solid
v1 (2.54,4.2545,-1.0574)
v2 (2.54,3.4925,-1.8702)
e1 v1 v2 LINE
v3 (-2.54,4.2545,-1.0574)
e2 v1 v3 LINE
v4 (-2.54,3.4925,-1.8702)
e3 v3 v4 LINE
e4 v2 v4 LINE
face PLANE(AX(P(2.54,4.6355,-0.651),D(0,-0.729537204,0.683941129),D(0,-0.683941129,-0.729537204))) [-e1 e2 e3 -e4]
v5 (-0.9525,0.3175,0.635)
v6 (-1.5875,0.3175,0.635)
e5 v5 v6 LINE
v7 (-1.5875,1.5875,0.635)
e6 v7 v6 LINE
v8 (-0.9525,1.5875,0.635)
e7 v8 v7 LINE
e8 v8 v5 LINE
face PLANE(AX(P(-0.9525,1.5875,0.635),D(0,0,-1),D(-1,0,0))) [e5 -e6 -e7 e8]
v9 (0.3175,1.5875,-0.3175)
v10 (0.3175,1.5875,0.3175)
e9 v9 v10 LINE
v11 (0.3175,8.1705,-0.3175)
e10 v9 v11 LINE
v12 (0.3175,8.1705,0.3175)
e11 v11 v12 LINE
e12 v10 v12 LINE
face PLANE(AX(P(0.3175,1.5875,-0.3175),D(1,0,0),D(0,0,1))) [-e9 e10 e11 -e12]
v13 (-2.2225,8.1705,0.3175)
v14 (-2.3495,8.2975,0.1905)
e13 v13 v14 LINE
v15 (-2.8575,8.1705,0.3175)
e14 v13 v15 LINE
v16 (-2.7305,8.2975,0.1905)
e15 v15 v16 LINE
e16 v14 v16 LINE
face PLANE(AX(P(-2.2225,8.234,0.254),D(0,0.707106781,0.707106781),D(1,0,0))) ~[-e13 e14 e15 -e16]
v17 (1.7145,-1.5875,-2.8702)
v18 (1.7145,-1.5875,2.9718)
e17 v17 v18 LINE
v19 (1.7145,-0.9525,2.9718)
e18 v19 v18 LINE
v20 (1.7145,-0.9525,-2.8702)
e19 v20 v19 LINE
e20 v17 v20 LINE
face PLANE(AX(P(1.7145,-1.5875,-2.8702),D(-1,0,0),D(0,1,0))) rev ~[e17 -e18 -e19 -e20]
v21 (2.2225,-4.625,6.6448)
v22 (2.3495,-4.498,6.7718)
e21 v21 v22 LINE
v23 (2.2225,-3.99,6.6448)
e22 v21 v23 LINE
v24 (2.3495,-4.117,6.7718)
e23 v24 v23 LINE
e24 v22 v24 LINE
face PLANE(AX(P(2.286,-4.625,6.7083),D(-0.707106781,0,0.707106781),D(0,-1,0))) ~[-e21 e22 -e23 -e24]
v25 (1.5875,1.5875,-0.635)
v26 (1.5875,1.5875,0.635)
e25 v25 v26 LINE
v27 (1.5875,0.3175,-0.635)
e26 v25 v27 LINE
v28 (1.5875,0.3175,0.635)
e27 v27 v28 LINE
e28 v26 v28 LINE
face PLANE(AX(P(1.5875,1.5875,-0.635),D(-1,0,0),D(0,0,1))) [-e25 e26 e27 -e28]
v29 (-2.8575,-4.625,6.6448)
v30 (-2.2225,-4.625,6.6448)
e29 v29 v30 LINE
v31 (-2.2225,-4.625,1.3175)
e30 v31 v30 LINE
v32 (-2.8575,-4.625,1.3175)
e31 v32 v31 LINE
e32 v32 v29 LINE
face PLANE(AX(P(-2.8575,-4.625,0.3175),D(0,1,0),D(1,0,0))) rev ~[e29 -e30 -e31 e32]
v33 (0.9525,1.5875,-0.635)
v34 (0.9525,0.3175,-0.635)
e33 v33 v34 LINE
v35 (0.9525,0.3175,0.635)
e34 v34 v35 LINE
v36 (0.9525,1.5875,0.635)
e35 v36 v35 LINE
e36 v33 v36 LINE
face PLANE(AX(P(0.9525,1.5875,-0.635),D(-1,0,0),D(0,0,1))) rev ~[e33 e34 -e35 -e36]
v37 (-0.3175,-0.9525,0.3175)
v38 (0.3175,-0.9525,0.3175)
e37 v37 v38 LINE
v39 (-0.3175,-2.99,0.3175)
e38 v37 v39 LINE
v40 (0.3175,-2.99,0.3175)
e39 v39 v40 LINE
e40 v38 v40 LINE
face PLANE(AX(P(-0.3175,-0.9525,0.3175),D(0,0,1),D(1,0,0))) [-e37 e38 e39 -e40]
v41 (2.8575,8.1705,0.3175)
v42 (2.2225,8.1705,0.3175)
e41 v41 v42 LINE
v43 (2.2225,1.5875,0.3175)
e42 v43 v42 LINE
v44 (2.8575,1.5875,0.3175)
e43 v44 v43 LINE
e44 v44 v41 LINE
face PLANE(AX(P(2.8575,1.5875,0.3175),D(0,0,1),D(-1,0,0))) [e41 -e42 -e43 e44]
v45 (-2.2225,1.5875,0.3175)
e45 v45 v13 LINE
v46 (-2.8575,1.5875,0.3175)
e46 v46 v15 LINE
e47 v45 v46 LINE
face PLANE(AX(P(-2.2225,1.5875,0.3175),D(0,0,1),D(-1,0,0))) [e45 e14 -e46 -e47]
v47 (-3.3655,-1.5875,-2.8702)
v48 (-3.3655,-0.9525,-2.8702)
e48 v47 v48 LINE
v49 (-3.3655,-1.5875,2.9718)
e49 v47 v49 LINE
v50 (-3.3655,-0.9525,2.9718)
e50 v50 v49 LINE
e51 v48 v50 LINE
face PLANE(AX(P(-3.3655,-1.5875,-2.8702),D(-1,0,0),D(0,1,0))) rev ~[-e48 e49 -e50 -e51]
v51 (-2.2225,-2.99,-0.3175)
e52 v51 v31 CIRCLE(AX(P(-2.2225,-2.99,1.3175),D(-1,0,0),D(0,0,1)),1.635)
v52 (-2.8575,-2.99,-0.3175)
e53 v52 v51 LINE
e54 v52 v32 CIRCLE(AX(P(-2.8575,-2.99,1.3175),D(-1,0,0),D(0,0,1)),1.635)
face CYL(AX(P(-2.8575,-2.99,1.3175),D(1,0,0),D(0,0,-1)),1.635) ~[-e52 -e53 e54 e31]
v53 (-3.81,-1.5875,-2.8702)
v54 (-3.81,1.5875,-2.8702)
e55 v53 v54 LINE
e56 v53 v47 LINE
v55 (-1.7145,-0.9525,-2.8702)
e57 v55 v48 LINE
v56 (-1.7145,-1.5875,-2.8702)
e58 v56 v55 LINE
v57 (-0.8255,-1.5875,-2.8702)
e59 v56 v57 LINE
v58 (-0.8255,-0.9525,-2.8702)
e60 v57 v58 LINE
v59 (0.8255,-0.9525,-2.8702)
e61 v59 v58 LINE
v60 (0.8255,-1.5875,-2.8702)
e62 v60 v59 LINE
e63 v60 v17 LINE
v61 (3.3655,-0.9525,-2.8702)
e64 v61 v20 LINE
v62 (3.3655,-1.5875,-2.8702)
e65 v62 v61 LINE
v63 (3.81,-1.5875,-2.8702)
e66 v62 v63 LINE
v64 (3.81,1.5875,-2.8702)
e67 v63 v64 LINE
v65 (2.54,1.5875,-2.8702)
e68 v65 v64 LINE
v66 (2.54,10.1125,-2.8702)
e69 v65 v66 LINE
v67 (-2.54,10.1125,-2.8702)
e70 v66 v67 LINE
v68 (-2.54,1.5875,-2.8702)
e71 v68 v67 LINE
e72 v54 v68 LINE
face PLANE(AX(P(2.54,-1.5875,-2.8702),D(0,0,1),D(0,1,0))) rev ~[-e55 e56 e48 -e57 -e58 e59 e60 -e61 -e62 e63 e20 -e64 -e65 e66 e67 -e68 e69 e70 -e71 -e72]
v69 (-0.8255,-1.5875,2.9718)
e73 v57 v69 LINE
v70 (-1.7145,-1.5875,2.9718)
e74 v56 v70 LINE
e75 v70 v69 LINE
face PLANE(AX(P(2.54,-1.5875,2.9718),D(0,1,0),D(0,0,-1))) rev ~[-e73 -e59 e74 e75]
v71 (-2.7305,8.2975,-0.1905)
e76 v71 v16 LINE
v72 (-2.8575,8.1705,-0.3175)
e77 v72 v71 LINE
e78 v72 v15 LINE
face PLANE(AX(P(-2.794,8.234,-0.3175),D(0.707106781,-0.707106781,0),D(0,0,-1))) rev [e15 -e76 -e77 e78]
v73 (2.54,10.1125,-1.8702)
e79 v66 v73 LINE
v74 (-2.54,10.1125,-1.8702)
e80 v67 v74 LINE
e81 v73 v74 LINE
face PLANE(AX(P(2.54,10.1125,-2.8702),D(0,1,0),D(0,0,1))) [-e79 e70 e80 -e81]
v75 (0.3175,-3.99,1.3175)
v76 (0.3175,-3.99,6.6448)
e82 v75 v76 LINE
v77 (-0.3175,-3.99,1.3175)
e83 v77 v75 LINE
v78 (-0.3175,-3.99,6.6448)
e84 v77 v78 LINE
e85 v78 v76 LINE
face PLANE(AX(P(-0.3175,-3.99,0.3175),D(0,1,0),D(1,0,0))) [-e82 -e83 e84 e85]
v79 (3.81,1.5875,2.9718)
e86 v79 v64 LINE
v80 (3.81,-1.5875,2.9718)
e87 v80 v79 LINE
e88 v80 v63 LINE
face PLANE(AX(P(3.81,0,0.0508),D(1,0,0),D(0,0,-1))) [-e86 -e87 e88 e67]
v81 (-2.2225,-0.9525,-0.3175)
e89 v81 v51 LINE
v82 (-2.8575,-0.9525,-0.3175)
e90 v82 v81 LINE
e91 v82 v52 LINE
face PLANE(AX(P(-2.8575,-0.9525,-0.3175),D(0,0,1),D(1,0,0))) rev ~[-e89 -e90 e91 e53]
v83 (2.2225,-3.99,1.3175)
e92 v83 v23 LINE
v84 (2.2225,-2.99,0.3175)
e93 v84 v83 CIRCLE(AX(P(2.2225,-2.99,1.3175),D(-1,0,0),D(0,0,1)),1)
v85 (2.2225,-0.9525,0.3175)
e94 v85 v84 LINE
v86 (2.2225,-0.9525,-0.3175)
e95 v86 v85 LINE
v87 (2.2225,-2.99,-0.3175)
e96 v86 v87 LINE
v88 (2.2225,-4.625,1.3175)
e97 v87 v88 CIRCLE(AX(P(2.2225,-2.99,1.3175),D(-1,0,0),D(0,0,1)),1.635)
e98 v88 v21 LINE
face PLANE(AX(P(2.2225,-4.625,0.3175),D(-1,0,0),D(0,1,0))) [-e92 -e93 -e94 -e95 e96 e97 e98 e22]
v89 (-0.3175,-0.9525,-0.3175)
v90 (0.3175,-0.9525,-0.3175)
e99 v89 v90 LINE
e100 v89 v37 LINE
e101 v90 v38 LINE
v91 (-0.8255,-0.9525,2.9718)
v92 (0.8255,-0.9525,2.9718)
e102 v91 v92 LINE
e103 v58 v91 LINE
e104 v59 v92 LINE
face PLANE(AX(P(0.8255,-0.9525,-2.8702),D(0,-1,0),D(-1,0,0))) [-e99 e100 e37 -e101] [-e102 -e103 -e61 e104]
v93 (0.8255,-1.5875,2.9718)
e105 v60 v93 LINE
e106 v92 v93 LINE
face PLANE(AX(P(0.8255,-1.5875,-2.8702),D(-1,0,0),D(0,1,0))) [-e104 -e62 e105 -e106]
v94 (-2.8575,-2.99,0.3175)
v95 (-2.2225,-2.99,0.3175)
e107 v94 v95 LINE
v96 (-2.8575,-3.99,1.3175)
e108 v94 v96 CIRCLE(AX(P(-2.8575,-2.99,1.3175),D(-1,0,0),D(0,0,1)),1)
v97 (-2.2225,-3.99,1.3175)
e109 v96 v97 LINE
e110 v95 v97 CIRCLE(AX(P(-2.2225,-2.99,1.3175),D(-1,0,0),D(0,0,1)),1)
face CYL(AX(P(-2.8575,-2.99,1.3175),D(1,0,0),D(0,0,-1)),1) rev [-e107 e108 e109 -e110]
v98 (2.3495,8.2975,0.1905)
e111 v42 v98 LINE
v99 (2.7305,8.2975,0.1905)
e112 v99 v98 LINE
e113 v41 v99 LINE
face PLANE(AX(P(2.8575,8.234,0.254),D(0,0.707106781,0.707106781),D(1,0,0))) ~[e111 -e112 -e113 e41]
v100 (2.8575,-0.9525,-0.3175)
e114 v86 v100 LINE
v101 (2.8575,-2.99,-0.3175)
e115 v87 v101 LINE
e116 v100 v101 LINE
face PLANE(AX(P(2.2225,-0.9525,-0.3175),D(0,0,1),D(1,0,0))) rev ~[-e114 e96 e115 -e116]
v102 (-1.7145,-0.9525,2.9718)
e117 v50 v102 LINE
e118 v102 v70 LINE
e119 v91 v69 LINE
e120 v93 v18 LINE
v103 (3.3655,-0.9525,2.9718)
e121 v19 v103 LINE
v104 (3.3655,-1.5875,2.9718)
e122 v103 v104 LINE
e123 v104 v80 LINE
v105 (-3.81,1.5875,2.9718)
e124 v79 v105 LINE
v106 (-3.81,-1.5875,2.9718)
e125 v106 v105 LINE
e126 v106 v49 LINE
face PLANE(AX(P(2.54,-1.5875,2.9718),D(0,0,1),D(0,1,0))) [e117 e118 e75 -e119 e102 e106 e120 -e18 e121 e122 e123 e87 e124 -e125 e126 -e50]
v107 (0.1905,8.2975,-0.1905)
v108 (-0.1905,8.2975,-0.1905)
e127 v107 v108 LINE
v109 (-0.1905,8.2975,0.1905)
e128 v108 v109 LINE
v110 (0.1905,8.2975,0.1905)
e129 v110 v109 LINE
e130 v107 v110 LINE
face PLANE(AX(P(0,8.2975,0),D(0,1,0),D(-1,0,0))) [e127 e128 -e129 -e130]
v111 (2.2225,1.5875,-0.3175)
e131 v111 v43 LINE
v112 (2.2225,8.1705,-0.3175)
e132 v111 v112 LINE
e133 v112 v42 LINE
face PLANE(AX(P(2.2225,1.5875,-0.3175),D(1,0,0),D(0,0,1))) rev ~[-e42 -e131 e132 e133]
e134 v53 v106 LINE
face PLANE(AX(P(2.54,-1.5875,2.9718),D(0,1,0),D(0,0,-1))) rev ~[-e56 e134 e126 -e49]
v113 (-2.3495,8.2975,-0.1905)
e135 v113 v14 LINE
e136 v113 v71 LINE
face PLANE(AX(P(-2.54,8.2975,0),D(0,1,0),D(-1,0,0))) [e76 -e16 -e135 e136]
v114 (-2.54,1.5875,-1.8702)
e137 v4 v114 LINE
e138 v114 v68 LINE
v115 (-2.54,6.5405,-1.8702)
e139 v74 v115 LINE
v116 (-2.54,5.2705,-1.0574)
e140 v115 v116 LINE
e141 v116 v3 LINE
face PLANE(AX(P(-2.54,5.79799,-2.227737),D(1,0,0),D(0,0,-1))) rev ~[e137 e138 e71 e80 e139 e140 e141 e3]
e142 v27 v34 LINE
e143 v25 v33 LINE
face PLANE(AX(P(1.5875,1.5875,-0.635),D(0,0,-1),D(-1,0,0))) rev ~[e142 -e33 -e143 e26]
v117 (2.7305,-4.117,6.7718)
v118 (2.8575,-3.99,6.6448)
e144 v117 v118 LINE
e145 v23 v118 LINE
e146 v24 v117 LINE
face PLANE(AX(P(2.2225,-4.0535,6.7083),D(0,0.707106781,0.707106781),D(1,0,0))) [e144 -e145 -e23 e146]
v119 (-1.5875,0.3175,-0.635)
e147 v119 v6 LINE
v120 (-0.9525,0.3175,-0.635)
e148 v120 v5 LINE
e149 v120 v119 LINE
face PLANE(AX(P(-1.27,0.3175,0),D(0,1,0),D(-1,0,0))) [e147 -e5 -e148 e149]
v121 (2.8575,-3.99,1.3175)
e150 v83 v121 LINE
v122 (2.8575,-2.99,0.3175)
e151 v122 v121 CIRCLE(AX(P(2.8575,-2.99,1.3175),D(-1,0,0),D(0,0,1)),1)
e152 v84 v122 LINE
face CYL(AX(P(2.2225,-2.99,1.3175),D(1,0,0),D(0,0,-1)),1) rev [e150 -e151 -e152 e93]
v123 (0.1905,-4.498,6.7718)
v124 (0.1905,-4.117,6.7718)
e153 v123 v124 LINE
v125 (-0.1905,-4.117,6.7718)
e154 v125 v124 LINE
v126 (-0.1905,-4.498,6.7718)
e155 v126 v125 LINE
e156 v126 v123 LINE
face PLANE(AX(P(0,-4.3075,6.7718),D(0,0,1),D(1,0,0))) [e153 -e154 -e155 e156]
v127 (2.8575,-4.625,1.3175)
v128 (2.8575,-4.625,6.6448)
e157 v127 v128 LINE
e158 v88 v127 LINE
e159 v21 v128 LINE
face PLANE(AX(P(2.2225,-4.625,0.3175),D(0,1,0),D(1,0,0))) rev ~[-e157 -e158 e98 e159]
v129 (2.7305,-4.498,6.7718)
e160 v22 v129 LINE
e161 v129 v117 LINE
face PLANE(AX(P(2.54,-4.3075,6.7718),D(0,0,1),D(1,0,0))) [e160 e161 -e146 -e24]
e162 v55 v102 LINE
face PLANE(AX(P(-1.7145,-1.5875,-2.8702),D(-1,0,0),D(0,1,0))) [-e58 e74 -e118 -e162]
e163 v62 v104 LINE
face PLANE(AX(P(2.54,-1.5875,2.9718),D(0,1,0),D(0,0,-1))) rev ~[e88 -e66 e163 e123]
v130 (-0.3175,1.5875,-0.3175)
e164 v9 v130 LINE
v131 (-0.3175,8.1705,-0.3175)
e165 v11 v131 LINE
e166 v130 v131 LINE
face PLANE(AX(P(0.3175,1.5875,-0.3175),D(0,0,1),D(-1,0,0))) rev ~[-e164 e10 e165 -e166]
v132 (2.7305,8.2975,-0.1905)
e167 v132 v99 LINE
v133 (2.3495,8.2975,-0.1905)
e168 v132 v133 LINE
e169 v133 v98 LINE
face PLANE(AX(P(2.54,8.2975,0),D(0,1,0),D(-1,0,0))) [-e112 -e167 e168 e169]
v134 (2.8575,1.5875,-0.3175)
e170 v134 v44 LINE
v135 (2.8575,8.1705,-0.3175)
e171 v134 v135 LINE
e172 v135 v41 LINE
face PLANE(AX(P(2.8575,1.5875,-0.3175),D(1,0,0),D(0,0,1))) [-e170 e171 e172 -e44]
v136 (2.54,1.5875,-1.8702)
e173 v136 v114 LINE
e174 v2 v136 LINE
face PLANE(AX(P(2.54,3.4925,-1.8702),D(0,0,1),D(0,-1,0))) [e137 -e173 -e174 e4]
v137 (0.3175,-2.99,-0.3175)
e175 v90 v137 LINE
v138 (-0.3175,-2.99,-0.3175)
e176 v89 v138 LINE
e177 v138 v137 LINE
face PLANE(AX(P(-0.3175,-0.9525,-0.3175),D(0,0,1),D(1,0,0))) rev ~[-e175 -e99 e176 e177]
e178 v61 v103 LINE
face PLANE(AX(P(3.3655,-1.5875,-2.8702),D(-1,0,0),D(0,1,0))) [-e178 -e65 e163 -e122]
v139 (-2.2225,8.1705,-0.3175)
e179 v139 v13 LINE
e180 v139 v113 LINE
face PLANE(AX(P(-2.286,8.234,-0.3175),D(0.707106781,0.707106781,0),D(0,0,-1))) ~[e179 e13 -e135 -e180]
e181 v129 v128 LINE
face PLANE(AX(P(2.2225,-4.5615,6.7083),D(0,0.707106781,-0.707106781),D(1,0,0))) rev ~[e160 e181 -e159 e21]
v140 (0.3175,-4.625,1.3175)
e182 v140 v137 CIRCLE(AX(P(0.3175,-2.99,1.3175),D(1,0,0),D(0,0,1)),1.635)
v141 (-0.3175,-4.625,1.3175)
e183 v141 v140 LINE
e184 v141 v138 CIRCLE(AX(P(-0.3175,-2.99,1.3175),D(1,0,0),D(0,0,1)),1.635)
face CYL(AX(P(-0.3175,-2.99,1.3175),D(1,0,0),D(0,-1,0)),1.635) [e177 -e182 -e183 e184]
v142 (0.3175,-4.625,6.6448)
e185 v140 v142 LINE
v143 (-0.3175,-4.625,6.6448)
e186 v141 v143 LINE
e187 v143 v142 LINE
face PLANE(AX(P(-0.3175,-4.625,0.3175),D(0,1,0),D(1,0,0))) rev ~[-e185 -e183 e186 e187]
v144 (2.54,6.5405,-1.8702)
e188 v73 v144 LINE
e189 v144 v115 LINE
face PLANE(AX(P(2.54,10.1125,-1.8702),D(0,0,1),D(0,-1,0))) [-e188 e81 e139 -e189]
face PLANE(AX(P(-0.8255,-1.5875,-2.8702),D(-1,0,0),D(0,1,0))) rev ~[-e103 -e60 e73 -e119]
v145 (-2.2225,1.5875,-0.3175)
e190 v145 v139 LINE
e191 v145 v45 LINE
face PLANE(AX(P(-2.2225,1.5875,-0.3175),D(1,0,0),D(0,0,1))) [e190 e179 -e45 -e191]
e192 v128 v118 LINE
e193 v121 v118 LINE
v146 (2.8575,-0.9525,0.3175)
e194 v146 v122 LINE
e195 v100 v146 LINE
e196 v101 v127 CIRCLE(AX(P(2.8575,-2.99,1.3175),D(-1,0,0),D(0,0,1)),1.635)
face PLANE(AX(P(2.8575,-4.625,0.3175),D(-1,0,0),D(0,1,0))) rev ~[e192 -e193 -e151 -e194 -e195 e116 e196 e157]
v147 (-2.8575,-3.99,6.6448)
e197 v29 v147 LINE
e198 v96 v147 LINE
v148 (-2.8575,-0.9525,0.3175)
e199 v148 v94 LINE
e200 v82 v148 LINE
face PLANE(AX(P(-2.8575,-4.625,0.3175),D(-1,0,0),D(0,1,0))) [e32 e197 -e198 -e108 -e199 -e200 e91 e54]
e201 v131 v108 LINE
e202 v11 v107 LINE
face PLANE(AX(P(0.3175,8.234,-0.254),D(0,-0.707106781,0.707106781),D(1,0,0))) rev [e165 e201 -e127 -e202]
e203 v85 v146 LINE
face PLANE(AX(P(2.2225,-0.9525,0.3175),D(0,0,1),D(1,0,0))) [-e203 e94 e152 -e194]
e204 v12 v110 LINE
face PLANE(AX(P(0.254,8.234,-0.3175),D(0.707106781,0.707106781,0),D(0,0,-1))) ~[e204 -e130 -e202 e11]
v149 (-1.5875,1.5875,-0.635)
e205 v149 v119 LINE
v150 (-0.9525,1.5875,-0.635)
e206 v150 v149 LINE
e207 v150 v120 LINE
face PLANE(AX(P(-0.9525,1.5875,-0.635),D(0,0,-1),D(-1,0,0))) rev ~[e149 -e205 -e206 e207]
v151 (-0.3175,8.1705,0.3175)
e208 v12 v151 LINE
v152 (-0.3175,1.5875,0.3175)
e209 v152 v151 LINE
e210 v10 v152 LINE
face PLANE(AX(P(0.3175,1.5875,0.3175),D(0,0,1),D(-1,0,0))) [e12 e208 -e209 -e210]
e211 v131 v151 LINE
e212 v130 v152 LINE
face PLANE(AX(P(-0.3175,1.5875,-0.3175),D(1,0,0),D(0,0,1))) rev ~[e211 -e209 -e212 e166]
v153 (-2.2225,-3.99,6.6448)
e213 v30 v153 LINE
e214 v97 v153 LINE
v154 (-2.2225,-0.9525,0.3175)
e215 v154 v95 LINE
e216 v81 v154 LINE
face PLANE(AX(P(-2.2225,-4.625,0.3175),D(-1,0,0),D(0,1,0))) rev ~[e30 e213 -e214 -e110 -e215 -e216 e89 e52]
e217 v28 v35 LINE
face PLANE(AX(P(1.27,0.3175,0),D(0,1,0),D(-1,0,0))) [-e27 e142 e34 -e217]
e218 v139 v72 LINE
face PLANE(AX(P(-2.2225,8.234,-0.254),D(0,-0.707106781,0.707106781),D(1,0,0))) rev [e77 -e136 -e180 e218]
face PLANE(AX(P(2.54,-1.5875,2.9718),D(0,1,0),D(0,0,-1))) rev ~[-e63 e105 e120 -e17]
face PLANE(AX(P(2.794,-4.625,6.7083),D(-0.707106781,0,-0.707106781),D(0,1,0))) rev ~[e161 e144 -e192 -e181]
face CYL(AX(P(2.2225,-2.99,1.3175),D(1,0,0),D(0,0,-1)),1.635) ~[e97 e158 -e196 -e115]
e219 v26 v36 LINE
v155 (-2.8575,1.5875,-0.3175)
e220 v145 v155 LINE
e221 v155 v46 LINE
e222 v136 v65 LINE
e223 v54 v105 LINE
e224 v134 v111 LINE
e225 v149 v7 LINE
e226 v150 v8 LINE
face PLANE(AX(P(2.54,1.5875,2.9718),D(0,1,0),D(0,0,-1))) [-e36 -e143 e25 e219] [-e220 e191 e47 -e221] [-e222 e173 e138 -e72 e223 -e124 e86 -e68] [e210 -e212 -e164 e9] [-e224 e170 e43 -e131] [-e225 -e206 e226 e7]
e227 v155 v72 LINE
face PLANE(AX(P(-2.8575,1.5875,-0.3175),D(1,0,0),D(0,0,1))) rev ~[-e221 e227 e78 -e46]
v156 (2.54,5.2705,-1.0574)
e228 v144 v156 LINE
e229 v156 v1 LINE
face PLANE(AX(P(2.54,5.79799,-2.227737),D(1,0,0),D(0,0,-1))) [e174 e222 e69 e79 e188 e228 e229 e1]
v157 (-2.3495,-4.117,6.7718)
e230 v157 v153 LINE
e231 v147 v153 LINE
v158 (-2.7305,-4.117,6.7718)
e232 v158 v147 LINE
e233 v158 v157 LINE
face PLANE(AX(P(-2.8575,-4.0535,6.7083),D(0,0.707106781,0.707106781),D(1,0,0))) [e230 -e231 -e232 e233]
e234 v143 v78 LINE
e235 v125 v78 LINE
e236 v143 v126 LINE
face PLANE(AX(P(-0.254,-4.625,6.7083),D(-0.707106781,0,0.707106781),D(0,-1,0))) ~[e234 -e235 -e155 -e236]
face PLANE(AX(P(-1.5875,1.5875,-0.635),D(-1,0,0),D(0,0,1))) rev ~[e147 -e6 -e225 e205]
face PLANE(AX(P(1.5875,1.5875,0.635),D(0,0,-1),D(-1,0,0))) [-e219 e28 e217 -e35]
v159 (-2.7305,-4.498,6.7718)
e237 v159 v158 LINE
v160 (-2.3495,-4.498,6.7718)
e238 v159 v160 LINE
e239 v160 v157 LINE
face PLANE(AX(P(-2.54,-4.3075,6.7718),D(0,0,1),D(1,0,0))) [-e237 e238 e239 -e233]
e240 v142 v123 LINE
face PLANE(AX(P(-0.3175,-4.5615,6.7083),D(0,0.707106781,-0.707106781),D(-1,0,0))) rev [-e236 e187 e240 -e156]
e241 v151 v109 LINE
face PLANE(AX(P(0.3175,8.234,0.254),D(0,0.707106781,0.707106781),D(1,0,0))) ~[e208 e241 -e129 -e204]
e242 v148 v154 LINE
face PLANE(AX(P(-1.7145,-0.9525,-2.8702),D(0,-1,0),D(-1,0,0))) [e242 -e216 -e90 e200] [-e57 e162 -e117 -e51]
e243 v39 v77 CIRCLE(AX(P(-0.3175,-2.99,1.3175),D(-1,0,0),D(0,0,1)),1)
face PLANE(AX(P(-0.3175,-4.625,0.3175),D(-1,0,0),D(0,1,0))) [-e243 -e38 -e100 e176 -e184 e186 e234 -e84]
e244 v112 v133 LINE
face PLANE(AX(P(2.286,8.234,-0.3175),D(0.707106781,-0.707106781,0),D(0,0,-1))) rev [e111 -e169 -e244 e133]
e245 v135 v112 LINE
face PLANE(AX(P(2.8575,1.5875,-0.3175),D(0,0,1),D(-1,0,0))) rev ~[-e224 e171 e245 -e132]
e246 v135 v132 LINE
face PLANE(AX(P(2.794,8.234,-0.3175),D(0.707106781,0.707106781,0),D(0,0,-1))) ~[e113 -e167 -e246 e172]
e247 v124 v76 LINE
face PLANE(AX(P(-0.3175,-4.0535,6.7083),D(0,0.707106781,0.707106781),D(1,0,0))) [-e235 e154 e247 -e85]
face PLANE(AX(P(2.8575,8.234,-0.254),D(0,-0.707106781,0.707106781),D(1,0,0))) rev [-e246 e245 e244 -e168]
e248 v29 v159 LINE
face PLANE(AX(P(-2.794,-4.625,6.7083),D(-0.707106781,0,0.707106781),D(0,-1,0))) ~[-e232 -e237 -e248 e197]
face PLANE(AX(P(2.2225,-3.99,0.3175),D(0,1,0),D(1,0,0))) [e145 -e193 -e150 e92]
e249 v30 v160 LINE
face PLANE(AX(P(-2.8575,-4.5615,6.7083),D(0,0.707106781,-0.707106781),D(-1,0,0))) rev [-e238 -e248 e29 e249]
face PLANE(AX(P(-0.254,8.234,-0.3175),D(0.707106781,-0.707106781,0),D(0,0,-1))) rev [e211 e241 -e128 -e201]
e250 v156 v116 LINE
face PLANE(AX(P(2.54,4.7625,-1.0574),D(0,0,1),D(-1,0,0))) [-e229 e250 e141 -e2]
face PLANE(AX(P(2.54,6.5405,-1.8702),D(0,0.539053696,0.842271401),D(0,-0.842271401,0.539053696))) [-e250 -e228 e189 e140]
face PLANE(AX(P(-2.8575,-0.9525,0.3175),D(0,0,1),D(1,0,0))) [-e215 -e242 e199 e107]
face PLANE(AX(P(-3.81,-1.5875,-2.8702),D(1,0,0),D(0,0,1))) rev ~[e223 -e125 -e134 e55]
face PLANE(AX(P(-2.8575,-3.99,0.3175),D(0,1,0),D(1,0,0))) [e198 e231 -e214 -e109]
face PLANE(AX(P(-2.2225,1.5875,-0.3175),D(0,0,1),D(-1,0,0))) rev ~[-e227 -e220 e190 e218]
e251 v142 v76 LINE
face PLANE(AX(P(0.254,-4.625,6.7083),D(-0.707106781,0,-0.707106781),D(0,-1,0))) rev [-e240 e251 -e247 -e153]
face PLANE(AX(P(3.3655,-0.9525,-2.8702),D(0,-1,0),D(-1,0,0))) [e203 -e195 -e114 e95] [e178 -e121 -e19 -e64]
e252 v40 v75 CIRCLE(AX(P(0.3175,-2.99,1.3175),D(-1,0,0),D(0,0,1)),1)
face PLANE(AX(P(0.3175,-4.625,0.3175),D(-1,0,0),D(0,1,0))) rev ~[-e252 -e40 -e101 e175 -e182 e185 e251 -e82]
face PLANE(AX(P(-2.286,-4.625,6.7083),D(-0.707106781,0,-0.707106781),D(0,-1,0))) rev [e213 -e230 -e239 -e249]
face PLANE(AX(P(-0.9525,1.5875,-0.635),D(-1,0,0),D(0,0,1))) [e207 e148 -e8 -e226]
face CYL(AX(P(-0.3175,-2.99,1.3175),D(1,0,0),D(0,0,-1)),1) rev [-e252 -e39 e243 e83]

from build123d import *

# Parameters (mm, degrees)
SKETCH1_W            = 6.35
SKETCH1_H            = 5.842
BOSS_EXTRUDE1_DEPTH  = 3.175
BOSS_EXTRUDE2_DEPTH  = 5.08
SKETCH3_W            = 5.842
SKETCH3_H            = 3.175
BOSS_EXTRUDE3_DEPTH  = 1.27
SKETCH4_W            = 1.651
SKETCH4_H            = 0.635
CUT_EXTRUDE1_DEPTH   = 6.842
SKETCH5_W            = 0.635
SKETCH5_H            = 0.635
BOSS_EXTRUDE4_DEPTH  = 3.6725
SKETCH6_W            = 0.635
SKETCH6_H            = 0.635
BOSS_EXTRUDE5_DEPTH  = 6.4543
SKETCH7_W            = 1.651
SKETCH7_H            = 0.635
CUT_EXTRUDE2_DEPTH   = 10.642
SKETCH8_W            = 0.635
SKETCH8_H            = 0.635
BOSS_EXTRUDE6_DEPTH  = 3.6725
SKETCH9_W            = 0.635
SKETCH9_H            = 0.635
BOSS_EXTRUDE7_DEPTH  = 6.4543
SKETCH10_W           = 1.651
SKETCH10_H           = 0.635
CUT_EXTRUDE3_DEPTH   = 10.642
SKETCH11_W           = 0.635
SKETCH11_H           = 0.635
BOSS_EXTRUDE8_DEPTH  = 3.6725
SKETCH12_W           = 0.635
SKETCH12_H           = 0.635
BOSS_EXTRUDE9_DEPTH  = 6.4543
SKETCH13_W           = 0.635
SKETCH13_H           = 0.635
BOSS_EXTRUDE10_DEPTH = 6.71
SKETCH14_W           = 0.635
SKETCH14_H           = 0.635
BOSS_EXTRUDE11_DEPTH = 6.71
SKETCH15_W           = 0.635
SKETCH15_H           = 0.635
BOSS_EXTRUDE12_DEPTH = 6.71
SKETCH16_W           = 0.635
SKETCH16_H           = 1.27
CUT_EXTRUDE4_DEPTH   = 1.27
SKETCH17_W           = 0.635
SKETCH17_H           = 1.27
CUT_EXTRUDE5_DEPTH   = 1.27
CHAMFER1_SIZE        = 0.127
CHAMFER2_SIZE        = 0.753913762
CHAMFER2_SIZE2       = 0.55706549
FILLET1_R            = 1
FILLET2_R            = 1.635


with BuildPart() as part:
    # Sketch1 → Boss-Extrude1 (new body)
    with BuildSketch(Plane.XZ.offset(1.5875)):
        with Locations((-0.635, 0.0508)):
            Rectangle(SKETCH1_W, SKETCH1_H)
    extrude(amount=-BOSS_EXTRUDE1_DEPTH)

    # Sketch2 → Boss-Extrude2 (add)
    with BuildSketch(Plane(origin=(2.54, 0, 0), x_dir=(0, 0, -1), z_dir=(1, 0, 0))):
        Polygon((0.651, 4.6355), (1.8702, 3.4925), (1.8702, 1.5875), (2.8702, 1.5875), (2.8702, 10.1125), (1.8702, 10.1125), (1.8702, 6.5405), align=None)
    extrude(amount=-BOSS_EXTRUDE2_DEPTH)

    # Sketch3 → Boss-Extrude3 (add)
    with BuildSketch(Plane(origin=(2.54, 0, 0), x_dir=(0, 0, -1), z_dir=(1, 0, 0))):
        with Locations((-0.0508, 0)):
            Rectangle(SKETCH3_W, SKETCH3_H)
    extrude(amount=BOSS_EXTRUDE3_DEPTH)

    # Sketch4 → Cut-Extrude1 (cut, through all)
    with BuildSketch(Plane(origin=(0, 0, -2.8702), x_dir=(-1, 0, 0), z_dir=(0, 0, -1))):
        with Locations((0, -1.27)):
            Rectangle(SKETCH4_W, SKETCH4_H)
    extrude(amount=-CUT_EXTRUDE1_DEPTH, mode=Mode.SUBTRACT)

    # Sketch5 → Boss-Extrude4 (add)
    with BuildSketch(Plane.XZ.offset(0.9525)):
        Rectangle(SKETCH5_W, SKETCH5_H)
    extrude(amount=BOSS_EXTRUDE4_DEPTH)

    # Sketch6 → Boss-Extrude5 (add)
    with BuildSketch(Plane.XY.offset(0.3175)):
        with Locations((0, -4.3075)):
            Rectangle(SKETCH6_W, SKETCH6_H)
    extrude(amount=BOSS_EXTRUDE5_DEPTH)

    # Sketch7 → Cut-Extrude2 (cut, through all)
    with BuildSketch(Plane(origin=(0, 0, -2.8702), x_dir=(-1, 0, 0), z_dir=(0, 0, -1))):
        with Locations((2.54, -1.27)):
            Rectangle(SKETCH7_W, SKETCH7_H)
    extrude(amount=-CUT_EXTRUDE2_DEPTH, mode=Mode.SUBTRACT)

    # Sketch8 → Boss-Extrude6 (add)
    with BuildSketch(Plane.XZ.offset(0.9525)):
        with Locations((-2.54, 0)):
            Rectangle(SKETCH8_W, SKETCH8_H)
    extrude(amount=BOSS_EXTRUDE6_DEPTH)

    # Sketch9 → Boss-Extrude7 (add)
    with BuildSketch(Plane.XY.offset(0.3175)):
        with Locations((-2.54, -4.3075)):
            Rectangle(SKETCH9_W, SKETCH9_H)
    extrude(amount=BOSS_EXTRUDE7_DEPTH)

    # Sketch10 → Cut-Extrude3 (cut, through all)
    with BuildSketch(Plane(origin=(0, 0, -2.8702), x_dir=(-1, 0, 0), z_dir=(0, 0, -1))):
        with Locations((-2.54, -1.27)):
            Rectangle(SKETCH10_W, SKETCH10_H)
    extrude(amount=-CUT_EXTRUDE3_DEPTH, mode=Mode.SUBTRACT)

    # Sketch11 → Boss-Extrude8 (add)
    with BuildSketch(Plane.XZ.offset(0.9525)):
        with Locations((2.54, 0)):
            Rectangle(SKETCH11_W, SKETCH11_H)
    extrude(amount=BOSS_EXTRUDE8_DEPTH)

    # Sketch12 → Boss-Extrude9 (add)
    with BuildSketch(Plane.XY.offset(0.3175)):
        with Locations((2.54, -4.3075)):
            Rectangle(SKETCH12_W, SKETCH12_H)
    extrude(amount=BOSS_EXTRUDE9_DEPTH)

    # Sketch13 → Boss-Extrude10 (add)
    with BuildSketch(Plane(origin=(0, 1.5875, 0), x_dir=(-1, 0, 0), z_dir=(0, 1, 0))):
        with Locations((-2.54, 0)):
            Rectangle(SKETCH13_W, SKETCH13_H)
    extrude(amount=BOSS_EXTRUDE10_DEPTH)

    # Sketch14 → Boss-Extrude11 (add)
    with BuildSketch(Plane(origin=(0, 1.5875, 0), x_dir=(-1, 0, 0), z_dir=(0, 1, 0))):
        Rectangle(SKETCH14_W, SKETCH14_H)
    extrude(amount=BOSS_EXTRUDE11_DEPTH)

    # Sketch15 → Boss-Extrude12 (add)
    with BuildSketch(Plane(origin=(0, 1.5875, 0), x_dir=(-1, 0, 0), z_dir=(0, 1, 0))):
        with Locations((2.54, 0)):
            Rectangle(SKETCH15_W, SKETCH15_H)
    extrude(amount=BOSS_EXTRUDE12_DEPTH)

    # Sketch16 → Cut-Extrude4 (cut)
    with BuildSketch(Plane(origin=(0, 1.5875, 0), x_dir=(-1, 0, 0), z_dir=(0, 1, 0))):
        with Locations((-1.27, 0)):
            Rectangle(SKETCH16_W, SKETCH16_H)
    extrude(amount=-CUT_EXTRUDE4_DEPTH, mode=Mode.SUBTRACT)

    # Sketch17 → Cut-Extrude5 (cut)
    with BuildSketch(Plane(origin=(0, 1.5875, 0), x_dir=(-1, 0, 0), z_dir=(0, 1, 0))):
        with Locations((1.27, 0)):
            Rectangle(SKETCH17_W, SKETCH17_H)
    extrude(amount=-CUT_EXTRUDE5_DEPTH, mode=Mode.SUBTRACT)

    # Chamfer1
    chamfer1_edges = [part.edges().sort_by_distance(p)[0] for p in [
        (-2.54, -3.99, 6.7718),
        (-2.8575, -4.3075, 6.7718),
        (-2.54, -4.625, 6.7718),
        (-2.2225, -4.3075, 6.7718),
        (2.8575, -4.3075, 6.7718),
        (2.54, -3.99, 6.7718),
        (2.2225, -4.3075, 6.7718),
        (2.54, -4.625, 6.7718),
        (2.2225, 8.2975, 0),
        (2.54, 8.2975, 0.3175),
        (2.8575, 8.2975, 0),
        (2.54, 8.2975, -0.3175),
        (0.3175, 8.2975, 0),
        (0, 8.2975, -0.3175),
        (-0.3175, 8.2975, 0),
        (0, 8.2975, 0.3175),
        (-2.54, 8.2975, 0.3175),
        (-2.2225, 8.2975, 0),
        (-2.54, 8.2975, -0.3175),
        (-2.8575, 8.2975, 0),
        (0, -3.99, 6.7718),
        (-0.3175, -4.3075, 6.7718),
        (0, -4.625, 6.7718),
        (0.3175, -4.3075, 6.7718),
    ]]
    chamfer(chamfer1_edges, length=CHAMFER1_SIZE)

    # Chamfer2
    chamfer2_edges = [part.edges().sort_by_distance(p)[0] for p in [
        (0, 4.6355, -0.651),
    ]]
    chamfer2_side = [part.faces().sort_by_distance(p)[0] for p in [
        (0, 5.588, -1.2606),
    ]]
    chamfer(chamfer2_edges, length=CHAMFER2_SIZE, length2=CHAMFER2_SIZE2, reference=chamfer2_side[0])

    # Fillet1
    fillet1_edges = [part.edges().sort_by_distance(p)[0] for p in [
        (-2.54, -3.99, 0.3175),
        (2.54, -3.99, 0.3175),
        (0, -3.99, 0.3175),
    ]]
    fillet(fillet1_edges, radius=FILLET1_R)

    # Fillet2
    fillet2_edges = [part.edges().sort_by_distance(p)[0] for p in [
        (-2.54, -4.625, -0.3175),
        (2.54, -4.625, -0.3175),
        (0, -4.625, -0.3175),
    ]]
    fillet(fillet2_edges, radius=FILLET2_R)


solid = part.part
